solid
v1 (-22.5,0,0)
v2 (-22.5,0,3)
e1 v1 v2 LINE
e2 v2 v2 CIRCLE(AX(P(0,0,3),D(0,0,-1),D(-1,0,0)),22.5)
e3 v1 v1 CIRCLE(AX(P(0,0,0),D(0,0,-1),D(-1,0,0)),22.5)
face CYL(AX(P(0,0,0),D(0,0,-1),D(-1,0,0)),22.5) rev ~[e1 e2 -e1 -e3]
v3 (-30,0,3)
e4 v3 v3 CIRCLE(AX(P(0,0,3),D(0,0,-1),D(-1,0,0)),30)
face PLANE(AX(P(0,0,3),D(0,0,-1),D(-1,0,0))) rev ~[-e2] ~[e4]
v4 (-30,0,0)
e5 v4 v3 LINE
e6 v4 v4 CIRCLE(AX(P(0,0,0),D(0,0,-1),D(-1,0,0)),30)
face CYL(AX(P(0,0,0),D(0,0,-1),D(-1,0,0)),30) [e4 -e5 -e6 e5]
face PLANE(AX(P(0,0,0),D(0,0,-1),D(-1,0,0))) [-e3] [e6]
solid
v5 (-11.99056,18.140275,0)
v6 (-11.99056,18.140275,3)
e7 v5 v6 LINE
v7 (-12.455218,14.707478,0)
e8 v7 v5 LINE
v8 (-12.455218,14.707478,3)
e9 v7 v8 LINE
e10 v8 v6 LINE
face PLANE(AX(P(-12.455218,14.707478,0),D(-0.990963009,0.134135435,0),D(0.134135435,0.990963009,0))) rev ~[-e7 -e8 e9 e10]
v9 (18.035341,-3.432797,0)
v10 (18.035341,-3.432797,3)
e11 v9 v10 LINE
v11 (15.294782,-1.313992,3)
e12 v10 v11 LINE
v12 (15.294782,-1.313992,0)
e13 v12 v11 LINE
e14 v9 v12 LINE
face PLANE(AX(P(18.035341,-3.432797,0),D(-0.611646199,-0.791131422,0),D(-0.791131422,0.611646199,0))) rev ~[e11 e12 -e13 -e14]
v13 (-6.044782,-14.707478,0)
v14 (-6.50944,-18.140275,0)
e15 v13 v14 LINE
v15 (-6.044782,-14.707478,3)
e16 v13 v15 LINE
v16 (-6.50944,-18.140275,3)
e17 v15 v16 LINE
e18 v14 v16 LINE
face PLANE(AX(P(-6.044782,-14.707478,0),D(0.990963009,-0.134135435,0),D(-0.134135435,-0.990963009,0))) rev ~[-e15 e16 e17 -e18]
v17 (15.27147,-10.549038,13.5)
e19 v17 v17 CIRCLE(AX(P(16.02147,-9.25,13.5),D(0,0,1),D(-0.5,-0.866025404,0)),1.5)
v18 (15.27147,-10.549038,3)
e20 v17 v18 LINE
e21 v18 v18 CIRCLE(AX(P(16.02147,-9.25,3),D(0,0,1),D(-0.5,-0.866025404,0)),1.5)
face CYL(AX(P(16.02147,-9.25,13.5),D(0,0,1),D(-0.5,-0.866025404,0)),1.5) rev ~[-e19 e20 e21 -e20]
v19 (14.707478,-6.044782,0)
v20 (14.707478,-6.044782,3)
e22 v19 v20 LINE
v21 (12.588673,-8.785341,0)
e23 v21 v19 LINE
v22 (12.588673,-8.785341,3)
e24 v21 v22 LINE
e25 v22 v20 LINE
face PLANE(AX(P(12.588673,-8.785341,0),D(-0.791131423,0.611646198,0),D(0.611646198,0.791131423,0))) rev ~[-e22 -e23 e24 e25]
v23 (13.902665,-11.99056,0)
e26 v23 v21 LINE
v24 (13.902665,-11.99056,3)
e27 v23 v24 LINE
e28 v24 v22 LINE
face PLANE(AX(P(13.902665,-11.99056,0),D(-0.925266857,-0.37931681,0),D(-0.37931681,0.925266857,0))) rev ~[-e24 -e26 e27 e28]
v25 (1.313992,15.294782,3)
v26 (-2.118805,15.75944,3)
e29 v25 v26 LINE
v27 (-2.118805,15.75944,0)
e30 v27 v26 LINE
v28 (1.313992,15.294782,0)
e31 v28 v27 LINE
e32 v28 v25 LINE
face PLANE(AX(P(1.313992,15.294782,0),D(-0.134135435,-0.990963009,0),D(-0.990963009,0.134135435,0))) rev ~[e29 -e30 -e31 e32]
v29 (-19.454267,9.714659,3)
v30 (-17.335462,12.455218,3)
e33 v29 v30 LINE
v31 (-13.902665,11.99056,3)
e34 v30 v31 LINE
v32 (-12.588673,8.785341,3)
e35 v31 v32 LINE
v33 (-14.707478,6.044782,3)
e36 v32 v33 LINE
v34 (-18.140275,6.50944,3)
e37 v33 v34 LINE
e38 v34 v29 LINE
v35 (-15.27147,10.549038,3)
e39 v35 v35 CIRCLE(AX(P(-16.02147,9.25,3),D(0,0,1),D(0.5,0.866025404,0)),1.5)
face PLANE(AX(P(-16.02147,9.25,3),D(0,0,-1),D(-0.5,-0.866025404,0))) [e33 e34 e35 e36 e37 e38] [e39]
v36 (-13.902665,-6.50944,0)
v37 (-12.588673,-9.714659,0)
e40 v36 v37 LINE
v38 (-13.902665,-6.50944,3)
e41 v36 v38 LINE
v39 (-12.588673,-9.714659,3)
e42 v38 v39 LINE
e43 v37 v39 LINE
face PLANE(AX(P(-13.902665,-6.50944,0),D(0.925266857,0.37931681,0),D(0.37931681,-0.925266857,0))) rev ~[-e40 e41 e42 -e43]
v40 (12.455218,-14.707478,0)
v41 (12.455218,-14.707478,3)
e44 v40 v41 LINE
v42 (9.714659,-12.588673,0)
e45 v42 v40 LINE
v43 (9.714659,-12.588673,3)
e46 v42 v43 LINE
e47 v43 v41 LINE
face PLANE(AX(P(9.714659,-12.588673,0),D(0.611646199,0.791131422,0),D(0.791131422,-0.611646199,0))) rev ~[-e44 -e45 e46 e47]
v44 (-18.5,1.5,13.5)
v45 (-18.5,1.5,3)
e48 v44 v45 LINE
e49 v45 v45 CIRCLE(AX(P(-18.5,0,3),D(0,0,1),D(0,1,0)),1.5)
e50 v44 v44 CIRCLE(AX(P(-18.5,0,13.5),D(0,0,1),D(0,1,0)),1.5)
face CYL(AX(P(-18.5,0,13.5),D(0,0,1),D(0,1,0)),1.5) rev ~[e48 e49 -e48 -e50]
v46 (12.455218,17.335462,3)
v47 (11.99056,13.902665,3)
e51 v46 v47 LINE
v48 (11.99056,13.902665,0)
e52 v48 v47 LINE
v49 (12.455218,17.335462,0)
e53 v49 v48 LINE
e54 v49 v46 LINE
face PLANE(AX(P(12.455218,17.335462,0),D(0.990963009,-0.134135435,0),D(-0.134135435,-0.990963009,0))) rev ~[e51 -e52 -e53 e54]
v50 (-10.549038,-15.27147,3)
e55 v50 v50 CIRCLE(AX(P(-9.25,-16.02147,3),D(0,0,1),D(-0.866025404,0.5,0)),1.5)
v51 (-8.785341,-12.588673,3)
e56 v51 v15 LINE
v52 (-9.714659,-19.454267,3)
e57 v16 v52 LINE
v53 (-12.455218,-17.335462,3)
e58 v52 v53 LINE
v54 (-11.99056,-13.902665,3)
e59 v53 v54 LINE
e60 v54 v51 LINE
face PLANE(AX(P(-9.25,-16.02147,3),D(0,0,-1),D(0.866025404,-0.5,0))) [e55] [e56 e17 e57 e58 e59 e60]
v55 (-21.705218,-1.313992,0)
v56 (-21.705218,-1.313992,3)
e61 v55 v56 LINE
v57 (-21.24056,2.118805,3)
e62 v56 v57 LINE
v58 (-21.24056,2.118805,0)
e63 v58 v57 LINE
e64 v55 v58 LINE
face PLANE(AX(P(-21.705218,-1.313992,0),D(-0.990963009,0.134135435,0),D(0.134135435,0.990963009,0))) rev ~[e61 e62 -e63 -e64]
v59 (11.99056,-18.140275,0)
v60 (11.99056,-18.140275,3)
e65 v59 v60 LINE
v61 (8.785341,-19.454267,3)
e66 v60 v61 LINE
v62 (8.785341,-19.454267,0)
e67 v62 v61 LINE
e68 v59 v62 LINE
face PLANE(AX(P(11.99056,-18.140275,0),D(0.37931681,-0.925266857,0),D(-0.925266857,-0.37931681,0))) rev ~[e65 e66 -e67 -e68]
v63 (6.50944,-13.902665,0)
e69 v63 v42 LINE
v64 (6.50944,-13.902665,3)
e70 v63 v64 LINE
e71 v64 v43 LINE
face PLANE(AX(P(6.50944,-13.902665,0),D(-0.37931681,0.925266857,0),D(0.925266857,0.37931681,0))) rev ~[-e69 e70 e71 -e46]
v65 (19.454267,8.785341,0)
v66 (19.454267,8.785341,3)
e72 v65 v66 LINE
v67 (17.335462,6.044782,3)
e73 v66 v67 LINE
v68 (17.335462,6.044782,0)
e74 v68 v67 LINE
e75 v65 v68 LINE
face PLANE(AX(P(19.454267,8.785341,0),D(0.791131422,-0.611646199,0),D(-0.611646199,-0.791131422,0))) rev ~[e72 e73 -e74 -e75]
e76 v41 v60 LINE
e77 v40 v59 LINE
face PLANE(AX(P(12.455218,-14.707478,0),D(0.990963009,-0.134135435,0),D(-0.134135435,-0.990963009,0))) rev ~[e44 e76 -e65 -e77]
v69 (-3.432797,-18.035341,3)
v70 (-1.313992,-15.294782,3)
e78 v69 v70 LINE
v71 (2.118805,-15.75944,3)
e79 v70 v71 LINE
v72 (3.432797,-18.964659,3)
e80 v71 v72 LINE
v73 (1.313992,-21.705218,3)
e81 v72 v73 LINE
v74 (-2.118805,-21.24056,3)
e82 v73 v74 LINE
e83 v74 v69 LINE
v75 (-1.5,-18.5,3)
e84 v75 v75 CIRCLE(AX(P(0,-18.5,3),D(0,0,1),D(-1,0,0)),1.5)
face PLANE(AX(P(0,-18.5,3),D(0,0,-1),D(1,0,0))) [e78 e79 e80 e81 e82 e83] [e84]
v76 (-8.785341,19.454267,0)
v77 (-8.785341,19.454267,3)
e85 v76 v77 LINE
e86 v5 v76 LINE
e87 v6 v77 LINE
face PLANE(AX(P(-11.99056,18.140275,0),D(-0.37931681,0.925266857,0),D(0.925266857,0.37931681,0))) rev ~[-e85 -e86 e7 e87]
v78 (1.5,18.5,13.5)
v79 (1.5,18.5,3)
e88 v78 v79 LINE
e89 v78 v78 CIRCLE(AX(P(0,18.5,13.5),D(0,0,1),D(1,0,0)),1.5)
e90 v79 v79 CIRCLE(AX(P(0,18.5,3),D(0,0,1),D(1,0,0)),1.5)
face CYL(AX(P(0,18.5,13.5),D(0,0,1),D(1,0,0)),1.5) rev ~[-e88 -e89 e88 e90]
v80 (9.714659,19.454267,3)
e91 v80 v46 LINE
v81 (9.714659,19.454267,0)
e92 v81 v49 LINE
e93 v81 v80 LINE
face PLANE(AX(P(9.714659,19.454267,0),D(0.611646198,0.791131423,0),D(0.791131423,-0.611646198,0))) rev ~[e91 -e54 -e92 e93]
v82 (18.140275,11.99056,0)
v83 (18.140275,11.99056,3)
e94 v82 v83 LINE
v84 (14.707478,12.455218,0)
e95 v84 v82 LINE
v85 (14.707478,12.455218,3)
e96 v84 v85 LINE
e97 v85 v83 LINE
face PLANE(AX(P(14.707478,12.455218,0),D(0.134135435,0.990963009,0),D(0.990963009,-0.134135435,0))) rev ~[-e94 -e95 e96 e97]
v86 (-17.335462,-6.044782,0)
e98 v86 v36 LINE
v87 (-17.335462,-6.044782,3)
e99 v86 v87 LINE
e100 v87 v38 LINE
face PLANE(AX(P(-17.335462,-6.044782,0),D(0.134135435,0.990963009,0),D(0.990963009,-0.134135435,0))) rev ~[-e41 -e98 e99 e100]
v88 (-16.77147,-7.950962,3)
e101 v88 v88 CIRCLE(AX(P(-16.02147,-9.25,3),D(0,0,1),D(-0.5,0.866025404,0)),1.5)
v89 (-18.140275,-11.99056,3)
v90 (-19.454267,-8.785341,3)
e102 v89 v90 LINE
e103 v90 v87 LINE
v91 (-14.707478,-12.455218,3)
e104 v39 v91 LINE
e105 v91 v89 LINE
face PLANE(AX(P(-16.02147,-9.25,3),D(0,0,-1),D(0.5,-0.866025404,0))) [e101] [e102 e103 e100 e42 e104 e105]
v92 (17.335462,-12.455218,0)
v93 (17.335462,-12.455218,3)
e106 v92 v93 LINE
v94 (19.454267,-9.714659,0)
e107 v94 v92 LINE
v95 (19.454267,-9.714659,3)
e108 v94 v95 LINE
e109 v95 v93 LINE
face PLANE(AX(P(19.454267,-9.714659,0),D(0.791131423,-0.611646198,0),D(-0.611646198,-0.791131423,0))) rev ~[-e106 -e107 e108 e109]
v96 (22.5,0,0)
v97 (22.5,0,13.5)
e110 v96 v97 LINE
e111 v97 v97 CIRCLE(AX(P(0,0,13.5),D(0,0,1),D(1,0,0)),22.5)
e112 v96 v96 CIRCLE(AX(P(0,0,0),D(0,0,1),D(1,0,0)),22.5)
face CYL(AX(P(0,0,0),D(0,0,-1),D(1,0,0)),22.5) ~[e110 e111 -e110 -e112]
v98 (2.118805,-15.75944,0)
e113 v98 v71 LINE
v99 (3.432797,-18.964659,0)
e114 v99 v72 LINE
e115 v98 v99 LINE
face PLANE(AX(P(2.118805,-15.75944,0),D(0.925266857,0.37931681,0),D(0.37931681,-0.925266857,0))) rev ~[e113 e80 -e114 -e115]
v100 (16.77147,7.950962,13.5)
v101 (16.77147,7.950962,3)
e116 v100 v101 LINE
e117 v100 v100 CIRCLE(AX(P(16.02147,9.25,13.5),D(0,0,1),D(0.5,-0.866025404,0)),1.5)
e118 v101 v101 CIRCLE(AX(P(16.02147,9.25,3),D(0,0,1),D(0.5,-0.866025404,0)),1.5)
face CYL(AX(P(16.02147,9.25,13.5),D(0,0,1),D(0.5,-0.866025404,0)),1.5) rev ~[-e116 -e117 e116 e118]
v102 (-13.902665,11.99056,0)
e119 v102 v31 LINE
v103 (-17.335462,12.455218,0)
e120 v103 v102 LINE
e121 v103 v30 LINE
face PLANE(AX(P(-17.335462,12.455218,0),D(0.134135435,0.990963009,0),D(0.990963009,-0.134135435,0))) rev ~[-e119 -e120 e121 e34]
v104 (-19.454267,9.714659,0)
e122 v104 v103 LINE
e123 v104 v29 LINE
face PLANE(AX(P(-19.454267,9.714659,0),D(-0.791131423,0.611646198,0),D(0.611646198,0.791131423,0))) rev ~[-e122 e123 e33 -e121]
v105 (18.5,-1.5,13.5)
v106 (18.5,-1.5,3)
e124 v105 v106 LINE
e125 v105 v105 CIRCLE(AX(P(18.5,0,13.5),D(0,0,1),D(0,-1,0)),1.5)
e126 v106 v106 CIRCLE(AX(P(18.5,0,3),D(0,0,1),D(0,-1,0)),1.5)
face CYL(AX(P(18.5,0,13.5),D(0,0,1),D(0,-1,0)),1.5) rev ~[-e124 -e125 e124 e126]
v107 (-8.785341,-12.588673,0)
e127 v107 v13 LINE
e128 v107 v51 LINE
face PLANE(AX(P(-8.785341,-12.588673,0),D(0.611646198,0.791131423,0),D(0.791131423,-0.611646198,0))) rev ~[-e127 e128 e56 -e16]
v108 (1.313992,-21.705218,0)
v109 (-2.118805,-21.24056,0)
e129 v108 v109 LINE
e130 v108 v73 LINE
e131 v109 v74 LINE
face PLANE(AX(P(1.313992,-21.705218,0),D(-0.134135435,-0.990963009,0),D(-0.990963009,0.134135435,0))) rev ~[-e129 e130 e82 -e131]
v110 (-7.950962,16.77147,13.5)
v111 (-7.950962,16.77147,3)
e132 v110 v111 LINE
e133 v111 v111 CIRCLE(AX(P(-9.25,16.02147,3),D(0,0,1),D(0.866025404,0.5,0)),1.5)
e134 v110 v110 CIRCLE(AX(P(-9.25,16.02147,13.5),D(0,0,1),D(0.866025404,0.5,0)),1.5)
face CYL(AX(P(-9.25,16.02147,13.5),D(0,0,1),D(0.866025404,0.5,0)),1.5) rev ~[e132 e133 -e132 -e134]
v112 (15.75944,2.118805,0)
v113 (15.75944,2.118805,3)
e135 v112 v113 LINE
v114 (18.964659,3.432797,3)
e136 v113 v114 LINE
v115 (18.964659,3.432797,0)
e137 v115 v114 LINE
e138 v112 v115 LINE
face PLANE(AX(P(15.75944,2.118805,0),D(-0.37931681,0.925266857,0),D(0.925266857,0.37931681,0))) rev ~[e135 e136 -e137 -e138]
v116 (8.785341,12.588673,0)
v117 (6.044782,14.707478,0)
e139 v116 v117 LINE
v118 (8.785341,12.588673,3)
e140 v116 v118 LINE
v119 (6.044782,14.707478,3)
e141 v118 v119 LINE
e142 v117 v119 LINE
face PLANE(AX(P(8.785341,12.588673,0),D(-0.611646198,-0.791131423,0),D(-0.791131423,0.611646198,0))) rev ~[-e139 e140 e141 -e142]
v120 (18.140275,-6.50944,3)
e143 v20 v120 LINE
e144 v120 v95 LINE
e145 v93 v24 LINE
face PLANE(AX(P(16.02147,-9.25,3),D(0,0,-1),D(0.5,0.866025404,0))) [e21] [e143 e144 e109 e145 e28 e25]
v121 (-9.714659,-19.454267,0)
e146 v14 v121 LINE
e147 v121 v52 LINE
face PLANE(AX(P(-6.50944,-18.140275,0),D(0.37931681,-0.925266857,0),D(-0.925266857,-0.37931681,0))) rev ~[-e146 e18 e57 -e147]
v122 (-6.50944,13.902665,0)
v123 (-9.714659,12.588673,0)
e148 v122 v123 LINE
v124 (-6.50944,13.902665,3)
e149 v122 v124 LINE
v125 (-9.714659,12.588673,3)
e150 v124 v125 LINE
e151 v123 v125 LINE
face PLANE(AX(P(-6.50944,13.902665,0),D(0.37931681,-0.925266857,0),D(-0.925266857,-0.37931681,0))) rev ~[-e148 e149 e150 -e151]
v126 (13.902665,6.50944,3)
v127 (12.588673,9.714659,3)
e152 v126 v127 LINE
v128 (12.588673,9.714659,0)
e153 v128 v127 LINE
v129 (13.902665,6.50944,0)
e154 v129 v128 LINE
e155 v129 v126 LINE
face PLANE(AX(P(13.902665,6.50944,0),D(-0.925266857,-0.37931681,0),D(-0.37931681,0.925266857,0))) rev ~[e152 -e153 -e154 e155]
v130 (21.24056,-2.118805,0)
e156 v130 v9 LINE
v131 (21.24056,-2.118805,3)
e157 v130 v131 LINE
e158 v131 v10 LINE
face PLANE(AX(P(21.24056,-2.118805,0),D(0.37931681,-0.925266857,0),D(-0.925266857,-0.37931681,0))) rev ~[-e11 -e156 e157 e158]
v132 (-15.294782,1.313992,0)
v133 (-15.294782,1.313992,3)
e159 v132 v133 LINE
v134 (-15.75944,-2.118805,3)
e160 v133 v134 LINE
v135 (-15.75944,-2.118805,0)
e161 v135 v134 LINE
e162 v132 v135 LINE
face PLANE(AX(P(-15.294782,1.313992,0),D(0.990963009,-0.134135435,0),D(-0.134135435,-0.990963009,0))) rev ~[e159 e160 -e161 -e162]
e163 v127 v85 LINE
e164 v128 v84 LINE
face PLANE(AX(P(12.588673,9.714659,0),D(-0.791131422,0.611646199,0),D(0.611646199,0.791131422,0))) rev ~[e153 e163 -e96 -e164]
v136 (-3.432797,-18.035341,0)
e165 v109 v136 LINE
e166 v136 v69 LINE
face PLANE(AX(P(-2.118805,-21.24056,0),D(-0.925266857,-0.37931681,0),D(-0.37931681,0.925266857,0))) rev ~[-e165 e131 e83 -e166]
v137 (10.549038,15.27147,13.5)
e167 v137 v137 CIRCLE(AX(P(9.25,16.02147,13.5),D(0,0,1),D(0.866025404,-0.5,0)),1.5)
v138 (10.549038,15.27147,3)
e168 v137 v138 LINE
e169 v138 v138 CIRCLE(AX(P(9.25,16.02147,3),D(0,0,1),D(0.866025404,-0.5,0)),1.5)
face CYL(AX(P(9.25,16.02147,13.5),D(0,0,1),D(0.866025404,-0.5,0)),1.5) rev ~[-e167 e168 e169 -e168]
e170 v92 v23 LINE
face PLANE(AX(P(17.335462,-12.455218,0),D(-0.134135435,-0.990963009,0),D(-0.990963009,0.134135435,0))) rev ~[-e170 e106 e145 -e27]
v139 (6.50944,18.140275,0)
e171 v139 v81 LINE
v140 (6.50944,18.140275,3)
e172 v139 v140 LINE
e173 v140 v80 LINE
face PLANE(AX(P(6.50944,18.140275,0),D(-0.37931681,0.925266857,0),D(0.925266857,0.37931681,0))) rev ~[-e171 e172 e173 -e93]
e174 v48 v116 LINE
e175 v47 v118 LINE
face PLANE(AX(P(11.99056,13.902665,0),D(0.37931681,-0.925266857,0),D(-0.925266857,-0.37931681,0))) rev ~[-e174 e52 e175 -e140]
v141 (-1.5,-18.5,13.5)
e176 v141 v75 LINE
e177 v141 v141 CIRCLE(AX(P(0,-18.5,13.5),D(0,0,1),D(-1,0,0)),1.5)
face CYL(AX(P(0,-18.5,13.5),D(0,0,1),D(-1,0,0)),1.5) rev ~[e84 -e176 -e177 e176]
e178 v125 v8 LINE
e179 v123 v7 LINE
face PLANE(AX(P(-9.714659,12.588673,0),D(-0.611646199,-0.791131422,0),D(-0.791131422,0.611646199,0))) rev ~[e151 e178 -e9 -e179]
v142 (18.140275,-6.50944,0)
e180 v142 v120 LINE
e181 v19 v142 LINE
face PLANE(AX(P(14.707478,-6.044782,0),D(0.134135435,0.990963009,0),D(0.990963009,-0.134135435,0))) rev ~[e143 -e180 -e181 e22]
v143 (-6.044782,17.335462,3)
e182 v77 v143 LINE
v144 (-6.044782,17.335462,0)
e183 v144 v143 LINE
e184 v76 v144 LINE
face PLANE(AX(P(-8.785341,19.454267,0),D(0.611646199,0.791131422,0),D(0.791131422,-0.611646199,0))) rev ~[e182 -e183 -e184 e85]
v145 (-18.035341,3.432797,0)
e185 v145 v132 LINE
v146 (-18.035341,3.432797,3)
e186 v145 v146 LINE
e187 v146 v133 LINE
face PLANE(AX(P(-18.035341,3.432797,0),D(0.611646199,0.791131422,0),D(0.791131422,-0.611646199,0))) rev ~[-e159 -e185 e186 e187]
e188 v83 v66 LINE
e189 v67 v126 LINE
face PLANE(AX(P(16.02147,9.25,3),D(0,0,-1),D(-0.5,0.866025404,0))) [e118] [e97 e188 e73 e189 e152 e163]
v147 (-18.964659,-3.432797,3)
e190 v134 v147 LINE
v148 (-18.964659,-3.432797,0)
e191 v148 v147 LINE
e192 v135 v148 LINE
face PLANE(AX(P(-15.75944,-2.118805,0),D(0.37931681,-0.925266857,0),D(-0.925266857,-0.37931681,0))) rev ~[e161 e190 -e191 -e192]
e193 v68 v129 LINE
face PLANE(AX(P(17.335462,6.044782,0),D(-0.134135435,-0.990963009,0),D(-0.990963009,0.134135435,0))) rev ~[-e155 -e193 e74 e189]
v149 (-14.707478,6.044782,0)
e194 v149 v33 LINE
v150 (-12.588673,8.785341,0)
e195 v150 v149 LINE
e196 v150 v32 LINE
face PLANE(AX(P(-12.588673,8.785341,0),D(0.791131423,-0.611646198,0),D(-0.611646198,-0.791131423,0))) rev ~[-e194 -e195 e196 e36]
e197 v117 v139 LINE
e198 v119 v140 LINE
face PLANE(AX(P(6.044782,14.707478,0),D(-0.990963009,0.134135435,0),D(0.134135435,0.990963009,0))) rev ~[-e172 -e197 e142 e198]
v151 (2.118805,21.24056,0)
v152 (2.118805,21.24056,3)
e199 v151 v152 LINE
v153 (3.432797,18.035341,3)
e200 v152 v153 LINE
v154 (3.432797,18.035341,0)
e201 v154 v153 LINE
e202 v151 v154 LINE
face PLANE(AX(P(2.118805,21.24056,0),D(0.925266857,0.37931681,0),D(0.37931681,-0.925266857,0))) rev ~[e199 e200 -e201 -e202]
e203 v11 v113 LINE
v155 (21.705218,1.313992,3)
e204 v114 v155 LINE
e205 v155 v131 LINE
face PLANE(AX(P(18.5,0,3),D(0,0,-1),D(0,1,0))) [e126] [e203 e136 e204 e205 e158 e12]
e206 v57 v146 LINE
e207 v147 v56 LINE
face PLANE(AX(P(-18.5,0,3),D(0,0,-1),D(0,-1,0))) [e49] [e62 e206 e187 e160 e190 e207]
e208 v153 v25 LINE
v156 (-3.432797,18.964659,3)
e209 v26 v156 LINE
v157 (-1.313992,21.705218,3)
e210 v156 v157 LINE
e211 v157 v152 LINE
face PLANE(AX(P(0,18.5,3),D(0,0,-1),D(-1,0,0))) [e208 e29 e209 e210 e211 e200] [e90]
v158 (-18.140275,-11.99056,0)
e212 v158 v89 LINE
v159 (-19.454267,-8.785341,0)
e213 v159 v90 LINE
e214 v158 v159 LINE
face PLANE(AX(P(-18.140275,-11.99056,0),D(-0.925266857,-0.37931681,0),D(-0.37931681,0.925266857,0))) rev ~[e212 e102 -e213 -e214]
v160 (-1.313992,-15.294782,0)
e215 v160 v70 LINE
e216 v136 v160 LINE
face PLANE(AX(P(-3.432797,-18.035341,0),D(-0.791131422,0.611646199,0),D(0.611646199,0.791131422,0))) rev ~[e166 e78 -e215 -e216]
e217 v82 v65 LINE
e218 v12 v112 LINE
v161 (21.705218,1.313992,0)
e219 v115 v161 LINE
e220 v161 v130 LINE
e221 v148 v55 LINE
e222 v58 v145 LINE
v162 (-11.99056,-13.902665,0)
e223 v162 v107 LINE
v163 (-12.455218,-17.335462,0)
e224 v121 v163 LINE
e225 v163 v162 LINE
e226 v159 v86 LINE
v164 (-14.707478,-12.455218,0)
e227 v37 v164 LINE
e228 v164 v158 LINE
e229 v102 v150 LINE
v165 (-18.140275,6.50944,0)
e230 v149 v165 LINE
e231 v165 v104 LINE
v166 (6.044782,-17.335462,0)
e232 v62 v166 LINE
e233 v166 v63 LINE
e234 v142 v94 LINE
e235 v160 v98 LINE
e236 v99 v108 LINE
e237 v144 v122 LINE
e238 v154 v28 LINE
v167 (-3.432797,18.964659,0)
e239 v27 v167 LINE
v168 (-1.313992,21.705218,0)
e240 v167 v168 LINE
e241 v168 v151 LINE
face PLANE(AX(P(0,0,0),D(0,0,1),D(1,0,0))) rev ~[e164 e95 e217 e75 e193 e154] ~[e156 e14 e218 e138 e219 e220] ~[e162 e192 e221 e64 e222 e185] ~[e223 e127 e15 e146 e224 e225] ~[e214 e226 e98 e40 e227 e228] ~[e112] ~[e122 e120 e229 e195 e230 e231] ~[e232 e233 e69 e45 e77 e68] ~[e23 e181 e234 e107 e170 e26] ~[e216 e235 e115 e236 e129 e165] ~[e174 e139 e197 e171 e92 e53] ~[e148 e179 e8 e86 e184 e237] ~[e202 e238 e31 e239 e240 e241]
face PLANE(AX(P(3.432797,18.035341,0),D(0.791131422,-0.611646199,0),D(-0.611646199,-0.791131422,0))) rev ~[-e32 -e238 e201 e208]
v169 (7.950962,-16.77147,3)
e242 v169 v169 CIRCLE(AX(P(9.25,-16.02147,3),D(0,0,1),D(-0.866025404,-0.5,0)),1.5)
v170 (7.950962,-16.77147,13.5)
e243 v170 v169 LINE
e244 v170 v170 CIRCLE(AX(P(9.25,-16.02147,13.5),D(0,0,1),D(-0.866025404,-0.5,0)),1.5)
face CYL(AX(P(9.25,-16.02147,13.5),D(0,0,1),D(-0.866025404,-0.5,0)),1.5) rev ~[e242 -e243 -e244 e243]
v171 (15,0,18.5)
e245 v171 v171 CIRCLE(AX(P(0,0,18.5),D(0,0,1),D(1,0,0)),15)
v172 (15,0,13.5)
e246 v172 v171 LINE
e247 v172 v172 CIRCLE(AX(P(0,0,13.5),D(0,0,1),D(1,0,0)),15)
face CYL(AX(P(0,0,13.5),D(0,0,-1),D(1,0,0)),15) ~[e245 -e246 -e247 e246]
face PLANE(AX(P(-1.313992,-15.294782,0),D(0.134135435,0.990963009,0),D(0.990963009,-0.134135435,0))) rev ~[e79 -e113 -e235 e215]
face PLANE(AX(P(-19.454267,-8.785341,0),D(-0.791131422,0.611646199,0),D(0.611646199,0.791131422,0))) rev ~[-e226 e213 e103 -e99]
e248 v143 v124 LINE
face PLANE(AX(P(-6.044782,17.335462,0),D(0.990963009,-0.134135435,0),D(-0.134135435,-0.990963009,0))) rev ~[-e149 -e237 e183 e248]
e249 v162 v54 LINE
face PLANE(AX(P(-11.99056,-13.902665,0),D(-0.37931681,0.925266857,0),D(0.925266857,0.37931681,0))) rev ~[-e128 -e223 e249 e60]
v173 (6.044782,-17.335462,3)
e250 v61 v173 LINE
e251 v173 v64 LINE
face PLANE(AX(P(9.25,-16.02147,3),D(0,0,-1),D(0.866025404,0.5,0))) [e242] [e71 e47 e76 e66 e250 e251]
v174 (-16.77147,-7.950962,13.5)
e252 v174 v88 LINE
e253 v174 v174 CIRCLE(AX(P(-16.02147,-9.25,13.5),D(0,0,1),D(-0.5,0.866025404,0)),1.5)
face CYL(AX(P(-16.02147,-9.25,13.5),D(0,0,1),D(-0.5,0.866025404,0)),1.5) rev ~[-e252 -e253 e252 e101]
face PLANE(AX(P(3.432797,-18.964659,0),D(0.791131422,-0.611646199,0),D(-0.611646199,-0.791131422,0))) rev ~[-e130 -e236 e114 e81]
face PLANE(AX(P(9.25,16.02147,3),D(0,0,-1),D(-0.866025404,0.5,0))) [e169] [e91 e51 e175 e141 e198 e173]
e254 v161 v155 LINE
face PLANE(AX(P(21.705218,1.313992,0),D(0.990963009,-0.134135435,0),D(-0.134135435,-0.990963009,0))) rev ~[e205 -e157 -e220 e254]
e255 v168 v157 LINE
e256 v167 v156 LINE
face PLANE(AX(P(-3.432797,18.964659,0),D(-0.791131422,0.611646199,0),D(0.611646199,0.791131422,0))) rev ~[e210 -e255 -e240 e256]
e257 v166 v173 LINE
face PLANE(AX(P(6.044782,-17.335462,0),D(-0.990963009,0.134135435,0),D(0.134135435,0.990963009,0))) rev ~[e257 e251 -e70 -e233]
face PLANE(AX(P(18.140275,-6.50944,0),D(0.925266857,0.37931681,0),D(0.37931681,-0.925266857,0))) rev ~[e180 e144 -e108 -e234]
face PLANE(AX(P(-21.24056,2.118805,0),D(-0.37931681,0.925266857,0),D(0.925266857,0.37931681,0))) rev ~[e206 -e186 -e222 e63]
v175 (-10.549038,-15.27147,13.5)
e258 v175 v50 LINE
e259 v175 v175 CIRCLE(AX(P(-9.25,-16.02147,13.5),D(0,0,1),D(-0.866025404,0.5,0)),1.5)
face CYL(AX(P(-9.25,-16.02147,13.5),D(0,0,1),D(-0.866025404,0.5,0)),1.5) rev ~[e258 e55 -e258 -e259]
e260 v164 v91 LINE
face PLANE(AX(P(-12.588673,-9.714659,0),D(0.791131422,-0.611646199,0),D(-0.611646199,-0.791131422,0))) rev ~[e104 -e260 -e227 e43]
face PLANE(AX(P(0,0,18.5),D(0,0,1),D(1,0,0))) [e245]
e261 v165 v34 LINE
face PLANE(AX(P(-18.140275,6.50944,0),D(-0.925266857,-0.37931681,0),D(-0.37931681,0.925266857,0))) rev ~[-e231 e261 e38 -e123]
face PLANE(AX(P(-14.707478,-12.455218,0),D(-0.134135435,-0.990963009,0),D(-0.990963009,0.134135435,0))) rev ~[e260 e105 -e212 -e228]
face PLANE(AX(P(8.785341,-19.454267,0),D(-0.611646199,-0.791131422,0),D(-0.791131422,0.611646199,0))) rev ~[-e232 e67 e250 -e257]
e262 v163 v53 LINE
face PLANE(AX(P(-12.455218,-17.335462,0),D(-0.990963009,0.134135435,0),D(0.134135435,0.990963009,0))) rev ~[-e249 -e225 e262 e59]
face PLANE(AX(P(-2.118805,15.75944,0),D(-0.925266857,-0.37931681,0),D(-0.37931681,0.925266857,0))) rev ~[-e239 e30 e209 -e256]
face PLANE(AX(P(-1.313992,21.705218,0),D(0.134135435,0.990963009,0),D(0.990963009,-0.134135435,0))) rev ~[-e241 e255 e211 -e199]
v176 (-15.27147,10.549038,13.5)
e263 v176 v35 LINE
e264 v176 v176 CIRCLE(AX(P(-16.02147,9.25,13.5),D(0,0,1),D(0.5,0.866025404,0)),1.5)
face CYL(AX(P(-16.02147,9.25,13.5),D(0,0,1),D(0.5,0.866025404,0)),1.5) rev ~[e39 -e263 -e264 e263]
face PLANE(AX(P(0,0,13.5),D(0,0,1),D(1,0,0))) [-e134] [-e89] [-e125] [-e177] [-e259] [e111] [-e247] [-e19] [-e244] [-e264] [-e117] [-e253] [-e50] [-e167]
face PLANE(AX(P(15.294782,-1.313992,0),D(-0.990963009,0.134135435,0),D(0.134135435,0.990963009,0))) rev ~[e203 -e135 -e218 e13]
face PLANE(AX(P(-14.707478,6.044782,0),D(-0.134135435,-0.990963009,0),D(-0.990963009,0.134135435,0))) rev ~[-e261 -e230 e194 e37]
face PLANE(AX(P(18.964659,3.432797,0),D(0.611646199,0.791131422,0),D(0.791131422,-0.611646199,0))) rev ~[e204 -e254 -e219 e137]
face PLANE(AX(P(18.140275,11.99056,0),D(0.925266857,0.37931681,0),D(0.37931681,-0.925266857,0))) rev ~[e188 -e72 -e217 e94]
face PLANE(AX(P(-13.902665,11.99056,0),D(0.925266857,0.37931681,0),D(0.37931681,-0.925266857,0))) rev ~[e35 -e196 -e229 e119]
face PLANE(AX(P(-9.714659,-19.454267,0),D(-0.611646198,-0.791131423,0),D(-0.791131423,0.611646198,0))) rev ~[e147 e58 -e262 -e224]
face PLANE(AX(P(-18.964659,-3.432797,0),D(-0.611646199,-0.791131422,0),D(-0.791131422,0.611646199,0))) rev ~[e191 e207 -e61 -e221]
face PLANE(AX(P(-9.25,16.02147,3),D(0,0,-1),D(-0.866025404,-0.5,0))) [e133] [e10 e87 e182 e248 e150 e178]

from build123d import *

# Parameters (mm, degrees)
SKETCH_1_R               = 22.5
EXTRUDE_1_DEPTH          = 13.5
SKETCH_2_R               = 15
EXTRUDE_2_DEPTH          = 5
SKETCH_3_R               = 1.5
CUT_EXTRUDE_1_DEPTH      = 5
SKETCH_5_R               = 1.5
CUT_EXTRUDE_2_DEPTH      = 35.565155865
CUT_EXTRUDE_6_DEPTH      = 3
PATTERN_CIRCULAR_1_COUNT = 12
SKETCH_10_R              = 30
SKETCH_10_R_2            = 22.5
EXTRUDE_3_DEPTH          = 3


with BuildPart() as part:
    # 草图1 → 凸台-拉伸1 (new body)
    with BuildSketch(Plane.XY):
        Circle(SKETCH_1_R)
    extrude(amount=EXTRUDE_1_DEPTH)

    # 草图2 → 凸台-拉伸2 (add)
    with BuildSketch(Plane.XY.offset(13.5)):
        Circle(SKETCH_2_R)
    extrude(amount=EXTRUDE_2_DEPTH)

    # 草图3 → 切除-拉伸1 (cut)
    with BuildSketch(Plane.XY.offset(13.5)):
        with Locations((0, 18.5)):
            Circle(SKETCH_3_R)
    cut_extrude_1 = extrude(amount=-CUT_EXTRUDE_1_DEPTH, mode=Mode.SUBTRACT)

    # 草图5 → 切除-拉伸2 (cut, through all)
    with BuildSketch(Plane.XY.offset(13.5)):
        with Locations((0, 18.5)):
            Circle(SKETCH_5_R)
    cut_extrude_2 = extrude(amount=-CUT_EXTRUDE_2_DEPTH, mode=Mode.SUBTRACT)

    # 草图9 → 切除-拉伸6 (cut)
    with BuildSketch(Plane(origin=(0, 0, 0), x_dir=(-1, 0, 0), z_dir=(0, 0, -1))):
        Polygon((1.313991975, 21.705218415), (-2.118804585, 21.240559639), (-3.43279656, 18.035341223), (-1.313991975, 15.294781585), (2.118804585, 15.759440361), (3.43279656, 18.964658777), align=None)
    cut_extrude_6 = extrude(amount=-CUT_EXTRUDE_6_DEPTH, mode=Mode.SUBTRACT)

    # 阵列(圆周)1: 切除-拉伸1, 切除-拉伸2, 切除-拉伸6 ×12 about axis
    pattern_circular_1_axis = Axis((0, 0, 0), (0, 0, 1))
    add([cut_extrude_1.rotate(pattern_circular_1_axis, i * 360 / PATTERN_CIRCULAR_1_COUNT) for i in range(1, PATTERN_CIRCULAR_1_COUNT)], mode=Mode.SUBTRACT)
    add([cut_extrude_2.rotate(pattern_circular_1_axis, i * 360 / PATTERN_CIRCULAR_1_COUNT) for i in range(1, PATTERN_CIRCULAR_1_COUNT)], mode=Mode.SUBTRACT)
    add([cut_extrude_6.rotate(pattern_circular_1_axis, i * 360 / PATTERN_CIRCULAR_1_COUNT) for i in range(1, PATTERN_CIRCULAR_1_COUNT)], mode=Mode.SUBTRACT)


with BuildPart() as body_2:
    # 草图10 → 凸台-拉伸3 (new body)
    with BuildSketch(Plane(origin=(0, 0, 0), x_dir=(-1, 0, 0), z_dir=(0, 0, -1))):
        Circle(SKETCH_10_R)
        Circle(SKETCH_10_R_2, mode=Mode.SUBTRACT)
    extrude(amount=-EXTRUDE_3_DEPTH)


solid = Compound([part.part, body_2.part])
